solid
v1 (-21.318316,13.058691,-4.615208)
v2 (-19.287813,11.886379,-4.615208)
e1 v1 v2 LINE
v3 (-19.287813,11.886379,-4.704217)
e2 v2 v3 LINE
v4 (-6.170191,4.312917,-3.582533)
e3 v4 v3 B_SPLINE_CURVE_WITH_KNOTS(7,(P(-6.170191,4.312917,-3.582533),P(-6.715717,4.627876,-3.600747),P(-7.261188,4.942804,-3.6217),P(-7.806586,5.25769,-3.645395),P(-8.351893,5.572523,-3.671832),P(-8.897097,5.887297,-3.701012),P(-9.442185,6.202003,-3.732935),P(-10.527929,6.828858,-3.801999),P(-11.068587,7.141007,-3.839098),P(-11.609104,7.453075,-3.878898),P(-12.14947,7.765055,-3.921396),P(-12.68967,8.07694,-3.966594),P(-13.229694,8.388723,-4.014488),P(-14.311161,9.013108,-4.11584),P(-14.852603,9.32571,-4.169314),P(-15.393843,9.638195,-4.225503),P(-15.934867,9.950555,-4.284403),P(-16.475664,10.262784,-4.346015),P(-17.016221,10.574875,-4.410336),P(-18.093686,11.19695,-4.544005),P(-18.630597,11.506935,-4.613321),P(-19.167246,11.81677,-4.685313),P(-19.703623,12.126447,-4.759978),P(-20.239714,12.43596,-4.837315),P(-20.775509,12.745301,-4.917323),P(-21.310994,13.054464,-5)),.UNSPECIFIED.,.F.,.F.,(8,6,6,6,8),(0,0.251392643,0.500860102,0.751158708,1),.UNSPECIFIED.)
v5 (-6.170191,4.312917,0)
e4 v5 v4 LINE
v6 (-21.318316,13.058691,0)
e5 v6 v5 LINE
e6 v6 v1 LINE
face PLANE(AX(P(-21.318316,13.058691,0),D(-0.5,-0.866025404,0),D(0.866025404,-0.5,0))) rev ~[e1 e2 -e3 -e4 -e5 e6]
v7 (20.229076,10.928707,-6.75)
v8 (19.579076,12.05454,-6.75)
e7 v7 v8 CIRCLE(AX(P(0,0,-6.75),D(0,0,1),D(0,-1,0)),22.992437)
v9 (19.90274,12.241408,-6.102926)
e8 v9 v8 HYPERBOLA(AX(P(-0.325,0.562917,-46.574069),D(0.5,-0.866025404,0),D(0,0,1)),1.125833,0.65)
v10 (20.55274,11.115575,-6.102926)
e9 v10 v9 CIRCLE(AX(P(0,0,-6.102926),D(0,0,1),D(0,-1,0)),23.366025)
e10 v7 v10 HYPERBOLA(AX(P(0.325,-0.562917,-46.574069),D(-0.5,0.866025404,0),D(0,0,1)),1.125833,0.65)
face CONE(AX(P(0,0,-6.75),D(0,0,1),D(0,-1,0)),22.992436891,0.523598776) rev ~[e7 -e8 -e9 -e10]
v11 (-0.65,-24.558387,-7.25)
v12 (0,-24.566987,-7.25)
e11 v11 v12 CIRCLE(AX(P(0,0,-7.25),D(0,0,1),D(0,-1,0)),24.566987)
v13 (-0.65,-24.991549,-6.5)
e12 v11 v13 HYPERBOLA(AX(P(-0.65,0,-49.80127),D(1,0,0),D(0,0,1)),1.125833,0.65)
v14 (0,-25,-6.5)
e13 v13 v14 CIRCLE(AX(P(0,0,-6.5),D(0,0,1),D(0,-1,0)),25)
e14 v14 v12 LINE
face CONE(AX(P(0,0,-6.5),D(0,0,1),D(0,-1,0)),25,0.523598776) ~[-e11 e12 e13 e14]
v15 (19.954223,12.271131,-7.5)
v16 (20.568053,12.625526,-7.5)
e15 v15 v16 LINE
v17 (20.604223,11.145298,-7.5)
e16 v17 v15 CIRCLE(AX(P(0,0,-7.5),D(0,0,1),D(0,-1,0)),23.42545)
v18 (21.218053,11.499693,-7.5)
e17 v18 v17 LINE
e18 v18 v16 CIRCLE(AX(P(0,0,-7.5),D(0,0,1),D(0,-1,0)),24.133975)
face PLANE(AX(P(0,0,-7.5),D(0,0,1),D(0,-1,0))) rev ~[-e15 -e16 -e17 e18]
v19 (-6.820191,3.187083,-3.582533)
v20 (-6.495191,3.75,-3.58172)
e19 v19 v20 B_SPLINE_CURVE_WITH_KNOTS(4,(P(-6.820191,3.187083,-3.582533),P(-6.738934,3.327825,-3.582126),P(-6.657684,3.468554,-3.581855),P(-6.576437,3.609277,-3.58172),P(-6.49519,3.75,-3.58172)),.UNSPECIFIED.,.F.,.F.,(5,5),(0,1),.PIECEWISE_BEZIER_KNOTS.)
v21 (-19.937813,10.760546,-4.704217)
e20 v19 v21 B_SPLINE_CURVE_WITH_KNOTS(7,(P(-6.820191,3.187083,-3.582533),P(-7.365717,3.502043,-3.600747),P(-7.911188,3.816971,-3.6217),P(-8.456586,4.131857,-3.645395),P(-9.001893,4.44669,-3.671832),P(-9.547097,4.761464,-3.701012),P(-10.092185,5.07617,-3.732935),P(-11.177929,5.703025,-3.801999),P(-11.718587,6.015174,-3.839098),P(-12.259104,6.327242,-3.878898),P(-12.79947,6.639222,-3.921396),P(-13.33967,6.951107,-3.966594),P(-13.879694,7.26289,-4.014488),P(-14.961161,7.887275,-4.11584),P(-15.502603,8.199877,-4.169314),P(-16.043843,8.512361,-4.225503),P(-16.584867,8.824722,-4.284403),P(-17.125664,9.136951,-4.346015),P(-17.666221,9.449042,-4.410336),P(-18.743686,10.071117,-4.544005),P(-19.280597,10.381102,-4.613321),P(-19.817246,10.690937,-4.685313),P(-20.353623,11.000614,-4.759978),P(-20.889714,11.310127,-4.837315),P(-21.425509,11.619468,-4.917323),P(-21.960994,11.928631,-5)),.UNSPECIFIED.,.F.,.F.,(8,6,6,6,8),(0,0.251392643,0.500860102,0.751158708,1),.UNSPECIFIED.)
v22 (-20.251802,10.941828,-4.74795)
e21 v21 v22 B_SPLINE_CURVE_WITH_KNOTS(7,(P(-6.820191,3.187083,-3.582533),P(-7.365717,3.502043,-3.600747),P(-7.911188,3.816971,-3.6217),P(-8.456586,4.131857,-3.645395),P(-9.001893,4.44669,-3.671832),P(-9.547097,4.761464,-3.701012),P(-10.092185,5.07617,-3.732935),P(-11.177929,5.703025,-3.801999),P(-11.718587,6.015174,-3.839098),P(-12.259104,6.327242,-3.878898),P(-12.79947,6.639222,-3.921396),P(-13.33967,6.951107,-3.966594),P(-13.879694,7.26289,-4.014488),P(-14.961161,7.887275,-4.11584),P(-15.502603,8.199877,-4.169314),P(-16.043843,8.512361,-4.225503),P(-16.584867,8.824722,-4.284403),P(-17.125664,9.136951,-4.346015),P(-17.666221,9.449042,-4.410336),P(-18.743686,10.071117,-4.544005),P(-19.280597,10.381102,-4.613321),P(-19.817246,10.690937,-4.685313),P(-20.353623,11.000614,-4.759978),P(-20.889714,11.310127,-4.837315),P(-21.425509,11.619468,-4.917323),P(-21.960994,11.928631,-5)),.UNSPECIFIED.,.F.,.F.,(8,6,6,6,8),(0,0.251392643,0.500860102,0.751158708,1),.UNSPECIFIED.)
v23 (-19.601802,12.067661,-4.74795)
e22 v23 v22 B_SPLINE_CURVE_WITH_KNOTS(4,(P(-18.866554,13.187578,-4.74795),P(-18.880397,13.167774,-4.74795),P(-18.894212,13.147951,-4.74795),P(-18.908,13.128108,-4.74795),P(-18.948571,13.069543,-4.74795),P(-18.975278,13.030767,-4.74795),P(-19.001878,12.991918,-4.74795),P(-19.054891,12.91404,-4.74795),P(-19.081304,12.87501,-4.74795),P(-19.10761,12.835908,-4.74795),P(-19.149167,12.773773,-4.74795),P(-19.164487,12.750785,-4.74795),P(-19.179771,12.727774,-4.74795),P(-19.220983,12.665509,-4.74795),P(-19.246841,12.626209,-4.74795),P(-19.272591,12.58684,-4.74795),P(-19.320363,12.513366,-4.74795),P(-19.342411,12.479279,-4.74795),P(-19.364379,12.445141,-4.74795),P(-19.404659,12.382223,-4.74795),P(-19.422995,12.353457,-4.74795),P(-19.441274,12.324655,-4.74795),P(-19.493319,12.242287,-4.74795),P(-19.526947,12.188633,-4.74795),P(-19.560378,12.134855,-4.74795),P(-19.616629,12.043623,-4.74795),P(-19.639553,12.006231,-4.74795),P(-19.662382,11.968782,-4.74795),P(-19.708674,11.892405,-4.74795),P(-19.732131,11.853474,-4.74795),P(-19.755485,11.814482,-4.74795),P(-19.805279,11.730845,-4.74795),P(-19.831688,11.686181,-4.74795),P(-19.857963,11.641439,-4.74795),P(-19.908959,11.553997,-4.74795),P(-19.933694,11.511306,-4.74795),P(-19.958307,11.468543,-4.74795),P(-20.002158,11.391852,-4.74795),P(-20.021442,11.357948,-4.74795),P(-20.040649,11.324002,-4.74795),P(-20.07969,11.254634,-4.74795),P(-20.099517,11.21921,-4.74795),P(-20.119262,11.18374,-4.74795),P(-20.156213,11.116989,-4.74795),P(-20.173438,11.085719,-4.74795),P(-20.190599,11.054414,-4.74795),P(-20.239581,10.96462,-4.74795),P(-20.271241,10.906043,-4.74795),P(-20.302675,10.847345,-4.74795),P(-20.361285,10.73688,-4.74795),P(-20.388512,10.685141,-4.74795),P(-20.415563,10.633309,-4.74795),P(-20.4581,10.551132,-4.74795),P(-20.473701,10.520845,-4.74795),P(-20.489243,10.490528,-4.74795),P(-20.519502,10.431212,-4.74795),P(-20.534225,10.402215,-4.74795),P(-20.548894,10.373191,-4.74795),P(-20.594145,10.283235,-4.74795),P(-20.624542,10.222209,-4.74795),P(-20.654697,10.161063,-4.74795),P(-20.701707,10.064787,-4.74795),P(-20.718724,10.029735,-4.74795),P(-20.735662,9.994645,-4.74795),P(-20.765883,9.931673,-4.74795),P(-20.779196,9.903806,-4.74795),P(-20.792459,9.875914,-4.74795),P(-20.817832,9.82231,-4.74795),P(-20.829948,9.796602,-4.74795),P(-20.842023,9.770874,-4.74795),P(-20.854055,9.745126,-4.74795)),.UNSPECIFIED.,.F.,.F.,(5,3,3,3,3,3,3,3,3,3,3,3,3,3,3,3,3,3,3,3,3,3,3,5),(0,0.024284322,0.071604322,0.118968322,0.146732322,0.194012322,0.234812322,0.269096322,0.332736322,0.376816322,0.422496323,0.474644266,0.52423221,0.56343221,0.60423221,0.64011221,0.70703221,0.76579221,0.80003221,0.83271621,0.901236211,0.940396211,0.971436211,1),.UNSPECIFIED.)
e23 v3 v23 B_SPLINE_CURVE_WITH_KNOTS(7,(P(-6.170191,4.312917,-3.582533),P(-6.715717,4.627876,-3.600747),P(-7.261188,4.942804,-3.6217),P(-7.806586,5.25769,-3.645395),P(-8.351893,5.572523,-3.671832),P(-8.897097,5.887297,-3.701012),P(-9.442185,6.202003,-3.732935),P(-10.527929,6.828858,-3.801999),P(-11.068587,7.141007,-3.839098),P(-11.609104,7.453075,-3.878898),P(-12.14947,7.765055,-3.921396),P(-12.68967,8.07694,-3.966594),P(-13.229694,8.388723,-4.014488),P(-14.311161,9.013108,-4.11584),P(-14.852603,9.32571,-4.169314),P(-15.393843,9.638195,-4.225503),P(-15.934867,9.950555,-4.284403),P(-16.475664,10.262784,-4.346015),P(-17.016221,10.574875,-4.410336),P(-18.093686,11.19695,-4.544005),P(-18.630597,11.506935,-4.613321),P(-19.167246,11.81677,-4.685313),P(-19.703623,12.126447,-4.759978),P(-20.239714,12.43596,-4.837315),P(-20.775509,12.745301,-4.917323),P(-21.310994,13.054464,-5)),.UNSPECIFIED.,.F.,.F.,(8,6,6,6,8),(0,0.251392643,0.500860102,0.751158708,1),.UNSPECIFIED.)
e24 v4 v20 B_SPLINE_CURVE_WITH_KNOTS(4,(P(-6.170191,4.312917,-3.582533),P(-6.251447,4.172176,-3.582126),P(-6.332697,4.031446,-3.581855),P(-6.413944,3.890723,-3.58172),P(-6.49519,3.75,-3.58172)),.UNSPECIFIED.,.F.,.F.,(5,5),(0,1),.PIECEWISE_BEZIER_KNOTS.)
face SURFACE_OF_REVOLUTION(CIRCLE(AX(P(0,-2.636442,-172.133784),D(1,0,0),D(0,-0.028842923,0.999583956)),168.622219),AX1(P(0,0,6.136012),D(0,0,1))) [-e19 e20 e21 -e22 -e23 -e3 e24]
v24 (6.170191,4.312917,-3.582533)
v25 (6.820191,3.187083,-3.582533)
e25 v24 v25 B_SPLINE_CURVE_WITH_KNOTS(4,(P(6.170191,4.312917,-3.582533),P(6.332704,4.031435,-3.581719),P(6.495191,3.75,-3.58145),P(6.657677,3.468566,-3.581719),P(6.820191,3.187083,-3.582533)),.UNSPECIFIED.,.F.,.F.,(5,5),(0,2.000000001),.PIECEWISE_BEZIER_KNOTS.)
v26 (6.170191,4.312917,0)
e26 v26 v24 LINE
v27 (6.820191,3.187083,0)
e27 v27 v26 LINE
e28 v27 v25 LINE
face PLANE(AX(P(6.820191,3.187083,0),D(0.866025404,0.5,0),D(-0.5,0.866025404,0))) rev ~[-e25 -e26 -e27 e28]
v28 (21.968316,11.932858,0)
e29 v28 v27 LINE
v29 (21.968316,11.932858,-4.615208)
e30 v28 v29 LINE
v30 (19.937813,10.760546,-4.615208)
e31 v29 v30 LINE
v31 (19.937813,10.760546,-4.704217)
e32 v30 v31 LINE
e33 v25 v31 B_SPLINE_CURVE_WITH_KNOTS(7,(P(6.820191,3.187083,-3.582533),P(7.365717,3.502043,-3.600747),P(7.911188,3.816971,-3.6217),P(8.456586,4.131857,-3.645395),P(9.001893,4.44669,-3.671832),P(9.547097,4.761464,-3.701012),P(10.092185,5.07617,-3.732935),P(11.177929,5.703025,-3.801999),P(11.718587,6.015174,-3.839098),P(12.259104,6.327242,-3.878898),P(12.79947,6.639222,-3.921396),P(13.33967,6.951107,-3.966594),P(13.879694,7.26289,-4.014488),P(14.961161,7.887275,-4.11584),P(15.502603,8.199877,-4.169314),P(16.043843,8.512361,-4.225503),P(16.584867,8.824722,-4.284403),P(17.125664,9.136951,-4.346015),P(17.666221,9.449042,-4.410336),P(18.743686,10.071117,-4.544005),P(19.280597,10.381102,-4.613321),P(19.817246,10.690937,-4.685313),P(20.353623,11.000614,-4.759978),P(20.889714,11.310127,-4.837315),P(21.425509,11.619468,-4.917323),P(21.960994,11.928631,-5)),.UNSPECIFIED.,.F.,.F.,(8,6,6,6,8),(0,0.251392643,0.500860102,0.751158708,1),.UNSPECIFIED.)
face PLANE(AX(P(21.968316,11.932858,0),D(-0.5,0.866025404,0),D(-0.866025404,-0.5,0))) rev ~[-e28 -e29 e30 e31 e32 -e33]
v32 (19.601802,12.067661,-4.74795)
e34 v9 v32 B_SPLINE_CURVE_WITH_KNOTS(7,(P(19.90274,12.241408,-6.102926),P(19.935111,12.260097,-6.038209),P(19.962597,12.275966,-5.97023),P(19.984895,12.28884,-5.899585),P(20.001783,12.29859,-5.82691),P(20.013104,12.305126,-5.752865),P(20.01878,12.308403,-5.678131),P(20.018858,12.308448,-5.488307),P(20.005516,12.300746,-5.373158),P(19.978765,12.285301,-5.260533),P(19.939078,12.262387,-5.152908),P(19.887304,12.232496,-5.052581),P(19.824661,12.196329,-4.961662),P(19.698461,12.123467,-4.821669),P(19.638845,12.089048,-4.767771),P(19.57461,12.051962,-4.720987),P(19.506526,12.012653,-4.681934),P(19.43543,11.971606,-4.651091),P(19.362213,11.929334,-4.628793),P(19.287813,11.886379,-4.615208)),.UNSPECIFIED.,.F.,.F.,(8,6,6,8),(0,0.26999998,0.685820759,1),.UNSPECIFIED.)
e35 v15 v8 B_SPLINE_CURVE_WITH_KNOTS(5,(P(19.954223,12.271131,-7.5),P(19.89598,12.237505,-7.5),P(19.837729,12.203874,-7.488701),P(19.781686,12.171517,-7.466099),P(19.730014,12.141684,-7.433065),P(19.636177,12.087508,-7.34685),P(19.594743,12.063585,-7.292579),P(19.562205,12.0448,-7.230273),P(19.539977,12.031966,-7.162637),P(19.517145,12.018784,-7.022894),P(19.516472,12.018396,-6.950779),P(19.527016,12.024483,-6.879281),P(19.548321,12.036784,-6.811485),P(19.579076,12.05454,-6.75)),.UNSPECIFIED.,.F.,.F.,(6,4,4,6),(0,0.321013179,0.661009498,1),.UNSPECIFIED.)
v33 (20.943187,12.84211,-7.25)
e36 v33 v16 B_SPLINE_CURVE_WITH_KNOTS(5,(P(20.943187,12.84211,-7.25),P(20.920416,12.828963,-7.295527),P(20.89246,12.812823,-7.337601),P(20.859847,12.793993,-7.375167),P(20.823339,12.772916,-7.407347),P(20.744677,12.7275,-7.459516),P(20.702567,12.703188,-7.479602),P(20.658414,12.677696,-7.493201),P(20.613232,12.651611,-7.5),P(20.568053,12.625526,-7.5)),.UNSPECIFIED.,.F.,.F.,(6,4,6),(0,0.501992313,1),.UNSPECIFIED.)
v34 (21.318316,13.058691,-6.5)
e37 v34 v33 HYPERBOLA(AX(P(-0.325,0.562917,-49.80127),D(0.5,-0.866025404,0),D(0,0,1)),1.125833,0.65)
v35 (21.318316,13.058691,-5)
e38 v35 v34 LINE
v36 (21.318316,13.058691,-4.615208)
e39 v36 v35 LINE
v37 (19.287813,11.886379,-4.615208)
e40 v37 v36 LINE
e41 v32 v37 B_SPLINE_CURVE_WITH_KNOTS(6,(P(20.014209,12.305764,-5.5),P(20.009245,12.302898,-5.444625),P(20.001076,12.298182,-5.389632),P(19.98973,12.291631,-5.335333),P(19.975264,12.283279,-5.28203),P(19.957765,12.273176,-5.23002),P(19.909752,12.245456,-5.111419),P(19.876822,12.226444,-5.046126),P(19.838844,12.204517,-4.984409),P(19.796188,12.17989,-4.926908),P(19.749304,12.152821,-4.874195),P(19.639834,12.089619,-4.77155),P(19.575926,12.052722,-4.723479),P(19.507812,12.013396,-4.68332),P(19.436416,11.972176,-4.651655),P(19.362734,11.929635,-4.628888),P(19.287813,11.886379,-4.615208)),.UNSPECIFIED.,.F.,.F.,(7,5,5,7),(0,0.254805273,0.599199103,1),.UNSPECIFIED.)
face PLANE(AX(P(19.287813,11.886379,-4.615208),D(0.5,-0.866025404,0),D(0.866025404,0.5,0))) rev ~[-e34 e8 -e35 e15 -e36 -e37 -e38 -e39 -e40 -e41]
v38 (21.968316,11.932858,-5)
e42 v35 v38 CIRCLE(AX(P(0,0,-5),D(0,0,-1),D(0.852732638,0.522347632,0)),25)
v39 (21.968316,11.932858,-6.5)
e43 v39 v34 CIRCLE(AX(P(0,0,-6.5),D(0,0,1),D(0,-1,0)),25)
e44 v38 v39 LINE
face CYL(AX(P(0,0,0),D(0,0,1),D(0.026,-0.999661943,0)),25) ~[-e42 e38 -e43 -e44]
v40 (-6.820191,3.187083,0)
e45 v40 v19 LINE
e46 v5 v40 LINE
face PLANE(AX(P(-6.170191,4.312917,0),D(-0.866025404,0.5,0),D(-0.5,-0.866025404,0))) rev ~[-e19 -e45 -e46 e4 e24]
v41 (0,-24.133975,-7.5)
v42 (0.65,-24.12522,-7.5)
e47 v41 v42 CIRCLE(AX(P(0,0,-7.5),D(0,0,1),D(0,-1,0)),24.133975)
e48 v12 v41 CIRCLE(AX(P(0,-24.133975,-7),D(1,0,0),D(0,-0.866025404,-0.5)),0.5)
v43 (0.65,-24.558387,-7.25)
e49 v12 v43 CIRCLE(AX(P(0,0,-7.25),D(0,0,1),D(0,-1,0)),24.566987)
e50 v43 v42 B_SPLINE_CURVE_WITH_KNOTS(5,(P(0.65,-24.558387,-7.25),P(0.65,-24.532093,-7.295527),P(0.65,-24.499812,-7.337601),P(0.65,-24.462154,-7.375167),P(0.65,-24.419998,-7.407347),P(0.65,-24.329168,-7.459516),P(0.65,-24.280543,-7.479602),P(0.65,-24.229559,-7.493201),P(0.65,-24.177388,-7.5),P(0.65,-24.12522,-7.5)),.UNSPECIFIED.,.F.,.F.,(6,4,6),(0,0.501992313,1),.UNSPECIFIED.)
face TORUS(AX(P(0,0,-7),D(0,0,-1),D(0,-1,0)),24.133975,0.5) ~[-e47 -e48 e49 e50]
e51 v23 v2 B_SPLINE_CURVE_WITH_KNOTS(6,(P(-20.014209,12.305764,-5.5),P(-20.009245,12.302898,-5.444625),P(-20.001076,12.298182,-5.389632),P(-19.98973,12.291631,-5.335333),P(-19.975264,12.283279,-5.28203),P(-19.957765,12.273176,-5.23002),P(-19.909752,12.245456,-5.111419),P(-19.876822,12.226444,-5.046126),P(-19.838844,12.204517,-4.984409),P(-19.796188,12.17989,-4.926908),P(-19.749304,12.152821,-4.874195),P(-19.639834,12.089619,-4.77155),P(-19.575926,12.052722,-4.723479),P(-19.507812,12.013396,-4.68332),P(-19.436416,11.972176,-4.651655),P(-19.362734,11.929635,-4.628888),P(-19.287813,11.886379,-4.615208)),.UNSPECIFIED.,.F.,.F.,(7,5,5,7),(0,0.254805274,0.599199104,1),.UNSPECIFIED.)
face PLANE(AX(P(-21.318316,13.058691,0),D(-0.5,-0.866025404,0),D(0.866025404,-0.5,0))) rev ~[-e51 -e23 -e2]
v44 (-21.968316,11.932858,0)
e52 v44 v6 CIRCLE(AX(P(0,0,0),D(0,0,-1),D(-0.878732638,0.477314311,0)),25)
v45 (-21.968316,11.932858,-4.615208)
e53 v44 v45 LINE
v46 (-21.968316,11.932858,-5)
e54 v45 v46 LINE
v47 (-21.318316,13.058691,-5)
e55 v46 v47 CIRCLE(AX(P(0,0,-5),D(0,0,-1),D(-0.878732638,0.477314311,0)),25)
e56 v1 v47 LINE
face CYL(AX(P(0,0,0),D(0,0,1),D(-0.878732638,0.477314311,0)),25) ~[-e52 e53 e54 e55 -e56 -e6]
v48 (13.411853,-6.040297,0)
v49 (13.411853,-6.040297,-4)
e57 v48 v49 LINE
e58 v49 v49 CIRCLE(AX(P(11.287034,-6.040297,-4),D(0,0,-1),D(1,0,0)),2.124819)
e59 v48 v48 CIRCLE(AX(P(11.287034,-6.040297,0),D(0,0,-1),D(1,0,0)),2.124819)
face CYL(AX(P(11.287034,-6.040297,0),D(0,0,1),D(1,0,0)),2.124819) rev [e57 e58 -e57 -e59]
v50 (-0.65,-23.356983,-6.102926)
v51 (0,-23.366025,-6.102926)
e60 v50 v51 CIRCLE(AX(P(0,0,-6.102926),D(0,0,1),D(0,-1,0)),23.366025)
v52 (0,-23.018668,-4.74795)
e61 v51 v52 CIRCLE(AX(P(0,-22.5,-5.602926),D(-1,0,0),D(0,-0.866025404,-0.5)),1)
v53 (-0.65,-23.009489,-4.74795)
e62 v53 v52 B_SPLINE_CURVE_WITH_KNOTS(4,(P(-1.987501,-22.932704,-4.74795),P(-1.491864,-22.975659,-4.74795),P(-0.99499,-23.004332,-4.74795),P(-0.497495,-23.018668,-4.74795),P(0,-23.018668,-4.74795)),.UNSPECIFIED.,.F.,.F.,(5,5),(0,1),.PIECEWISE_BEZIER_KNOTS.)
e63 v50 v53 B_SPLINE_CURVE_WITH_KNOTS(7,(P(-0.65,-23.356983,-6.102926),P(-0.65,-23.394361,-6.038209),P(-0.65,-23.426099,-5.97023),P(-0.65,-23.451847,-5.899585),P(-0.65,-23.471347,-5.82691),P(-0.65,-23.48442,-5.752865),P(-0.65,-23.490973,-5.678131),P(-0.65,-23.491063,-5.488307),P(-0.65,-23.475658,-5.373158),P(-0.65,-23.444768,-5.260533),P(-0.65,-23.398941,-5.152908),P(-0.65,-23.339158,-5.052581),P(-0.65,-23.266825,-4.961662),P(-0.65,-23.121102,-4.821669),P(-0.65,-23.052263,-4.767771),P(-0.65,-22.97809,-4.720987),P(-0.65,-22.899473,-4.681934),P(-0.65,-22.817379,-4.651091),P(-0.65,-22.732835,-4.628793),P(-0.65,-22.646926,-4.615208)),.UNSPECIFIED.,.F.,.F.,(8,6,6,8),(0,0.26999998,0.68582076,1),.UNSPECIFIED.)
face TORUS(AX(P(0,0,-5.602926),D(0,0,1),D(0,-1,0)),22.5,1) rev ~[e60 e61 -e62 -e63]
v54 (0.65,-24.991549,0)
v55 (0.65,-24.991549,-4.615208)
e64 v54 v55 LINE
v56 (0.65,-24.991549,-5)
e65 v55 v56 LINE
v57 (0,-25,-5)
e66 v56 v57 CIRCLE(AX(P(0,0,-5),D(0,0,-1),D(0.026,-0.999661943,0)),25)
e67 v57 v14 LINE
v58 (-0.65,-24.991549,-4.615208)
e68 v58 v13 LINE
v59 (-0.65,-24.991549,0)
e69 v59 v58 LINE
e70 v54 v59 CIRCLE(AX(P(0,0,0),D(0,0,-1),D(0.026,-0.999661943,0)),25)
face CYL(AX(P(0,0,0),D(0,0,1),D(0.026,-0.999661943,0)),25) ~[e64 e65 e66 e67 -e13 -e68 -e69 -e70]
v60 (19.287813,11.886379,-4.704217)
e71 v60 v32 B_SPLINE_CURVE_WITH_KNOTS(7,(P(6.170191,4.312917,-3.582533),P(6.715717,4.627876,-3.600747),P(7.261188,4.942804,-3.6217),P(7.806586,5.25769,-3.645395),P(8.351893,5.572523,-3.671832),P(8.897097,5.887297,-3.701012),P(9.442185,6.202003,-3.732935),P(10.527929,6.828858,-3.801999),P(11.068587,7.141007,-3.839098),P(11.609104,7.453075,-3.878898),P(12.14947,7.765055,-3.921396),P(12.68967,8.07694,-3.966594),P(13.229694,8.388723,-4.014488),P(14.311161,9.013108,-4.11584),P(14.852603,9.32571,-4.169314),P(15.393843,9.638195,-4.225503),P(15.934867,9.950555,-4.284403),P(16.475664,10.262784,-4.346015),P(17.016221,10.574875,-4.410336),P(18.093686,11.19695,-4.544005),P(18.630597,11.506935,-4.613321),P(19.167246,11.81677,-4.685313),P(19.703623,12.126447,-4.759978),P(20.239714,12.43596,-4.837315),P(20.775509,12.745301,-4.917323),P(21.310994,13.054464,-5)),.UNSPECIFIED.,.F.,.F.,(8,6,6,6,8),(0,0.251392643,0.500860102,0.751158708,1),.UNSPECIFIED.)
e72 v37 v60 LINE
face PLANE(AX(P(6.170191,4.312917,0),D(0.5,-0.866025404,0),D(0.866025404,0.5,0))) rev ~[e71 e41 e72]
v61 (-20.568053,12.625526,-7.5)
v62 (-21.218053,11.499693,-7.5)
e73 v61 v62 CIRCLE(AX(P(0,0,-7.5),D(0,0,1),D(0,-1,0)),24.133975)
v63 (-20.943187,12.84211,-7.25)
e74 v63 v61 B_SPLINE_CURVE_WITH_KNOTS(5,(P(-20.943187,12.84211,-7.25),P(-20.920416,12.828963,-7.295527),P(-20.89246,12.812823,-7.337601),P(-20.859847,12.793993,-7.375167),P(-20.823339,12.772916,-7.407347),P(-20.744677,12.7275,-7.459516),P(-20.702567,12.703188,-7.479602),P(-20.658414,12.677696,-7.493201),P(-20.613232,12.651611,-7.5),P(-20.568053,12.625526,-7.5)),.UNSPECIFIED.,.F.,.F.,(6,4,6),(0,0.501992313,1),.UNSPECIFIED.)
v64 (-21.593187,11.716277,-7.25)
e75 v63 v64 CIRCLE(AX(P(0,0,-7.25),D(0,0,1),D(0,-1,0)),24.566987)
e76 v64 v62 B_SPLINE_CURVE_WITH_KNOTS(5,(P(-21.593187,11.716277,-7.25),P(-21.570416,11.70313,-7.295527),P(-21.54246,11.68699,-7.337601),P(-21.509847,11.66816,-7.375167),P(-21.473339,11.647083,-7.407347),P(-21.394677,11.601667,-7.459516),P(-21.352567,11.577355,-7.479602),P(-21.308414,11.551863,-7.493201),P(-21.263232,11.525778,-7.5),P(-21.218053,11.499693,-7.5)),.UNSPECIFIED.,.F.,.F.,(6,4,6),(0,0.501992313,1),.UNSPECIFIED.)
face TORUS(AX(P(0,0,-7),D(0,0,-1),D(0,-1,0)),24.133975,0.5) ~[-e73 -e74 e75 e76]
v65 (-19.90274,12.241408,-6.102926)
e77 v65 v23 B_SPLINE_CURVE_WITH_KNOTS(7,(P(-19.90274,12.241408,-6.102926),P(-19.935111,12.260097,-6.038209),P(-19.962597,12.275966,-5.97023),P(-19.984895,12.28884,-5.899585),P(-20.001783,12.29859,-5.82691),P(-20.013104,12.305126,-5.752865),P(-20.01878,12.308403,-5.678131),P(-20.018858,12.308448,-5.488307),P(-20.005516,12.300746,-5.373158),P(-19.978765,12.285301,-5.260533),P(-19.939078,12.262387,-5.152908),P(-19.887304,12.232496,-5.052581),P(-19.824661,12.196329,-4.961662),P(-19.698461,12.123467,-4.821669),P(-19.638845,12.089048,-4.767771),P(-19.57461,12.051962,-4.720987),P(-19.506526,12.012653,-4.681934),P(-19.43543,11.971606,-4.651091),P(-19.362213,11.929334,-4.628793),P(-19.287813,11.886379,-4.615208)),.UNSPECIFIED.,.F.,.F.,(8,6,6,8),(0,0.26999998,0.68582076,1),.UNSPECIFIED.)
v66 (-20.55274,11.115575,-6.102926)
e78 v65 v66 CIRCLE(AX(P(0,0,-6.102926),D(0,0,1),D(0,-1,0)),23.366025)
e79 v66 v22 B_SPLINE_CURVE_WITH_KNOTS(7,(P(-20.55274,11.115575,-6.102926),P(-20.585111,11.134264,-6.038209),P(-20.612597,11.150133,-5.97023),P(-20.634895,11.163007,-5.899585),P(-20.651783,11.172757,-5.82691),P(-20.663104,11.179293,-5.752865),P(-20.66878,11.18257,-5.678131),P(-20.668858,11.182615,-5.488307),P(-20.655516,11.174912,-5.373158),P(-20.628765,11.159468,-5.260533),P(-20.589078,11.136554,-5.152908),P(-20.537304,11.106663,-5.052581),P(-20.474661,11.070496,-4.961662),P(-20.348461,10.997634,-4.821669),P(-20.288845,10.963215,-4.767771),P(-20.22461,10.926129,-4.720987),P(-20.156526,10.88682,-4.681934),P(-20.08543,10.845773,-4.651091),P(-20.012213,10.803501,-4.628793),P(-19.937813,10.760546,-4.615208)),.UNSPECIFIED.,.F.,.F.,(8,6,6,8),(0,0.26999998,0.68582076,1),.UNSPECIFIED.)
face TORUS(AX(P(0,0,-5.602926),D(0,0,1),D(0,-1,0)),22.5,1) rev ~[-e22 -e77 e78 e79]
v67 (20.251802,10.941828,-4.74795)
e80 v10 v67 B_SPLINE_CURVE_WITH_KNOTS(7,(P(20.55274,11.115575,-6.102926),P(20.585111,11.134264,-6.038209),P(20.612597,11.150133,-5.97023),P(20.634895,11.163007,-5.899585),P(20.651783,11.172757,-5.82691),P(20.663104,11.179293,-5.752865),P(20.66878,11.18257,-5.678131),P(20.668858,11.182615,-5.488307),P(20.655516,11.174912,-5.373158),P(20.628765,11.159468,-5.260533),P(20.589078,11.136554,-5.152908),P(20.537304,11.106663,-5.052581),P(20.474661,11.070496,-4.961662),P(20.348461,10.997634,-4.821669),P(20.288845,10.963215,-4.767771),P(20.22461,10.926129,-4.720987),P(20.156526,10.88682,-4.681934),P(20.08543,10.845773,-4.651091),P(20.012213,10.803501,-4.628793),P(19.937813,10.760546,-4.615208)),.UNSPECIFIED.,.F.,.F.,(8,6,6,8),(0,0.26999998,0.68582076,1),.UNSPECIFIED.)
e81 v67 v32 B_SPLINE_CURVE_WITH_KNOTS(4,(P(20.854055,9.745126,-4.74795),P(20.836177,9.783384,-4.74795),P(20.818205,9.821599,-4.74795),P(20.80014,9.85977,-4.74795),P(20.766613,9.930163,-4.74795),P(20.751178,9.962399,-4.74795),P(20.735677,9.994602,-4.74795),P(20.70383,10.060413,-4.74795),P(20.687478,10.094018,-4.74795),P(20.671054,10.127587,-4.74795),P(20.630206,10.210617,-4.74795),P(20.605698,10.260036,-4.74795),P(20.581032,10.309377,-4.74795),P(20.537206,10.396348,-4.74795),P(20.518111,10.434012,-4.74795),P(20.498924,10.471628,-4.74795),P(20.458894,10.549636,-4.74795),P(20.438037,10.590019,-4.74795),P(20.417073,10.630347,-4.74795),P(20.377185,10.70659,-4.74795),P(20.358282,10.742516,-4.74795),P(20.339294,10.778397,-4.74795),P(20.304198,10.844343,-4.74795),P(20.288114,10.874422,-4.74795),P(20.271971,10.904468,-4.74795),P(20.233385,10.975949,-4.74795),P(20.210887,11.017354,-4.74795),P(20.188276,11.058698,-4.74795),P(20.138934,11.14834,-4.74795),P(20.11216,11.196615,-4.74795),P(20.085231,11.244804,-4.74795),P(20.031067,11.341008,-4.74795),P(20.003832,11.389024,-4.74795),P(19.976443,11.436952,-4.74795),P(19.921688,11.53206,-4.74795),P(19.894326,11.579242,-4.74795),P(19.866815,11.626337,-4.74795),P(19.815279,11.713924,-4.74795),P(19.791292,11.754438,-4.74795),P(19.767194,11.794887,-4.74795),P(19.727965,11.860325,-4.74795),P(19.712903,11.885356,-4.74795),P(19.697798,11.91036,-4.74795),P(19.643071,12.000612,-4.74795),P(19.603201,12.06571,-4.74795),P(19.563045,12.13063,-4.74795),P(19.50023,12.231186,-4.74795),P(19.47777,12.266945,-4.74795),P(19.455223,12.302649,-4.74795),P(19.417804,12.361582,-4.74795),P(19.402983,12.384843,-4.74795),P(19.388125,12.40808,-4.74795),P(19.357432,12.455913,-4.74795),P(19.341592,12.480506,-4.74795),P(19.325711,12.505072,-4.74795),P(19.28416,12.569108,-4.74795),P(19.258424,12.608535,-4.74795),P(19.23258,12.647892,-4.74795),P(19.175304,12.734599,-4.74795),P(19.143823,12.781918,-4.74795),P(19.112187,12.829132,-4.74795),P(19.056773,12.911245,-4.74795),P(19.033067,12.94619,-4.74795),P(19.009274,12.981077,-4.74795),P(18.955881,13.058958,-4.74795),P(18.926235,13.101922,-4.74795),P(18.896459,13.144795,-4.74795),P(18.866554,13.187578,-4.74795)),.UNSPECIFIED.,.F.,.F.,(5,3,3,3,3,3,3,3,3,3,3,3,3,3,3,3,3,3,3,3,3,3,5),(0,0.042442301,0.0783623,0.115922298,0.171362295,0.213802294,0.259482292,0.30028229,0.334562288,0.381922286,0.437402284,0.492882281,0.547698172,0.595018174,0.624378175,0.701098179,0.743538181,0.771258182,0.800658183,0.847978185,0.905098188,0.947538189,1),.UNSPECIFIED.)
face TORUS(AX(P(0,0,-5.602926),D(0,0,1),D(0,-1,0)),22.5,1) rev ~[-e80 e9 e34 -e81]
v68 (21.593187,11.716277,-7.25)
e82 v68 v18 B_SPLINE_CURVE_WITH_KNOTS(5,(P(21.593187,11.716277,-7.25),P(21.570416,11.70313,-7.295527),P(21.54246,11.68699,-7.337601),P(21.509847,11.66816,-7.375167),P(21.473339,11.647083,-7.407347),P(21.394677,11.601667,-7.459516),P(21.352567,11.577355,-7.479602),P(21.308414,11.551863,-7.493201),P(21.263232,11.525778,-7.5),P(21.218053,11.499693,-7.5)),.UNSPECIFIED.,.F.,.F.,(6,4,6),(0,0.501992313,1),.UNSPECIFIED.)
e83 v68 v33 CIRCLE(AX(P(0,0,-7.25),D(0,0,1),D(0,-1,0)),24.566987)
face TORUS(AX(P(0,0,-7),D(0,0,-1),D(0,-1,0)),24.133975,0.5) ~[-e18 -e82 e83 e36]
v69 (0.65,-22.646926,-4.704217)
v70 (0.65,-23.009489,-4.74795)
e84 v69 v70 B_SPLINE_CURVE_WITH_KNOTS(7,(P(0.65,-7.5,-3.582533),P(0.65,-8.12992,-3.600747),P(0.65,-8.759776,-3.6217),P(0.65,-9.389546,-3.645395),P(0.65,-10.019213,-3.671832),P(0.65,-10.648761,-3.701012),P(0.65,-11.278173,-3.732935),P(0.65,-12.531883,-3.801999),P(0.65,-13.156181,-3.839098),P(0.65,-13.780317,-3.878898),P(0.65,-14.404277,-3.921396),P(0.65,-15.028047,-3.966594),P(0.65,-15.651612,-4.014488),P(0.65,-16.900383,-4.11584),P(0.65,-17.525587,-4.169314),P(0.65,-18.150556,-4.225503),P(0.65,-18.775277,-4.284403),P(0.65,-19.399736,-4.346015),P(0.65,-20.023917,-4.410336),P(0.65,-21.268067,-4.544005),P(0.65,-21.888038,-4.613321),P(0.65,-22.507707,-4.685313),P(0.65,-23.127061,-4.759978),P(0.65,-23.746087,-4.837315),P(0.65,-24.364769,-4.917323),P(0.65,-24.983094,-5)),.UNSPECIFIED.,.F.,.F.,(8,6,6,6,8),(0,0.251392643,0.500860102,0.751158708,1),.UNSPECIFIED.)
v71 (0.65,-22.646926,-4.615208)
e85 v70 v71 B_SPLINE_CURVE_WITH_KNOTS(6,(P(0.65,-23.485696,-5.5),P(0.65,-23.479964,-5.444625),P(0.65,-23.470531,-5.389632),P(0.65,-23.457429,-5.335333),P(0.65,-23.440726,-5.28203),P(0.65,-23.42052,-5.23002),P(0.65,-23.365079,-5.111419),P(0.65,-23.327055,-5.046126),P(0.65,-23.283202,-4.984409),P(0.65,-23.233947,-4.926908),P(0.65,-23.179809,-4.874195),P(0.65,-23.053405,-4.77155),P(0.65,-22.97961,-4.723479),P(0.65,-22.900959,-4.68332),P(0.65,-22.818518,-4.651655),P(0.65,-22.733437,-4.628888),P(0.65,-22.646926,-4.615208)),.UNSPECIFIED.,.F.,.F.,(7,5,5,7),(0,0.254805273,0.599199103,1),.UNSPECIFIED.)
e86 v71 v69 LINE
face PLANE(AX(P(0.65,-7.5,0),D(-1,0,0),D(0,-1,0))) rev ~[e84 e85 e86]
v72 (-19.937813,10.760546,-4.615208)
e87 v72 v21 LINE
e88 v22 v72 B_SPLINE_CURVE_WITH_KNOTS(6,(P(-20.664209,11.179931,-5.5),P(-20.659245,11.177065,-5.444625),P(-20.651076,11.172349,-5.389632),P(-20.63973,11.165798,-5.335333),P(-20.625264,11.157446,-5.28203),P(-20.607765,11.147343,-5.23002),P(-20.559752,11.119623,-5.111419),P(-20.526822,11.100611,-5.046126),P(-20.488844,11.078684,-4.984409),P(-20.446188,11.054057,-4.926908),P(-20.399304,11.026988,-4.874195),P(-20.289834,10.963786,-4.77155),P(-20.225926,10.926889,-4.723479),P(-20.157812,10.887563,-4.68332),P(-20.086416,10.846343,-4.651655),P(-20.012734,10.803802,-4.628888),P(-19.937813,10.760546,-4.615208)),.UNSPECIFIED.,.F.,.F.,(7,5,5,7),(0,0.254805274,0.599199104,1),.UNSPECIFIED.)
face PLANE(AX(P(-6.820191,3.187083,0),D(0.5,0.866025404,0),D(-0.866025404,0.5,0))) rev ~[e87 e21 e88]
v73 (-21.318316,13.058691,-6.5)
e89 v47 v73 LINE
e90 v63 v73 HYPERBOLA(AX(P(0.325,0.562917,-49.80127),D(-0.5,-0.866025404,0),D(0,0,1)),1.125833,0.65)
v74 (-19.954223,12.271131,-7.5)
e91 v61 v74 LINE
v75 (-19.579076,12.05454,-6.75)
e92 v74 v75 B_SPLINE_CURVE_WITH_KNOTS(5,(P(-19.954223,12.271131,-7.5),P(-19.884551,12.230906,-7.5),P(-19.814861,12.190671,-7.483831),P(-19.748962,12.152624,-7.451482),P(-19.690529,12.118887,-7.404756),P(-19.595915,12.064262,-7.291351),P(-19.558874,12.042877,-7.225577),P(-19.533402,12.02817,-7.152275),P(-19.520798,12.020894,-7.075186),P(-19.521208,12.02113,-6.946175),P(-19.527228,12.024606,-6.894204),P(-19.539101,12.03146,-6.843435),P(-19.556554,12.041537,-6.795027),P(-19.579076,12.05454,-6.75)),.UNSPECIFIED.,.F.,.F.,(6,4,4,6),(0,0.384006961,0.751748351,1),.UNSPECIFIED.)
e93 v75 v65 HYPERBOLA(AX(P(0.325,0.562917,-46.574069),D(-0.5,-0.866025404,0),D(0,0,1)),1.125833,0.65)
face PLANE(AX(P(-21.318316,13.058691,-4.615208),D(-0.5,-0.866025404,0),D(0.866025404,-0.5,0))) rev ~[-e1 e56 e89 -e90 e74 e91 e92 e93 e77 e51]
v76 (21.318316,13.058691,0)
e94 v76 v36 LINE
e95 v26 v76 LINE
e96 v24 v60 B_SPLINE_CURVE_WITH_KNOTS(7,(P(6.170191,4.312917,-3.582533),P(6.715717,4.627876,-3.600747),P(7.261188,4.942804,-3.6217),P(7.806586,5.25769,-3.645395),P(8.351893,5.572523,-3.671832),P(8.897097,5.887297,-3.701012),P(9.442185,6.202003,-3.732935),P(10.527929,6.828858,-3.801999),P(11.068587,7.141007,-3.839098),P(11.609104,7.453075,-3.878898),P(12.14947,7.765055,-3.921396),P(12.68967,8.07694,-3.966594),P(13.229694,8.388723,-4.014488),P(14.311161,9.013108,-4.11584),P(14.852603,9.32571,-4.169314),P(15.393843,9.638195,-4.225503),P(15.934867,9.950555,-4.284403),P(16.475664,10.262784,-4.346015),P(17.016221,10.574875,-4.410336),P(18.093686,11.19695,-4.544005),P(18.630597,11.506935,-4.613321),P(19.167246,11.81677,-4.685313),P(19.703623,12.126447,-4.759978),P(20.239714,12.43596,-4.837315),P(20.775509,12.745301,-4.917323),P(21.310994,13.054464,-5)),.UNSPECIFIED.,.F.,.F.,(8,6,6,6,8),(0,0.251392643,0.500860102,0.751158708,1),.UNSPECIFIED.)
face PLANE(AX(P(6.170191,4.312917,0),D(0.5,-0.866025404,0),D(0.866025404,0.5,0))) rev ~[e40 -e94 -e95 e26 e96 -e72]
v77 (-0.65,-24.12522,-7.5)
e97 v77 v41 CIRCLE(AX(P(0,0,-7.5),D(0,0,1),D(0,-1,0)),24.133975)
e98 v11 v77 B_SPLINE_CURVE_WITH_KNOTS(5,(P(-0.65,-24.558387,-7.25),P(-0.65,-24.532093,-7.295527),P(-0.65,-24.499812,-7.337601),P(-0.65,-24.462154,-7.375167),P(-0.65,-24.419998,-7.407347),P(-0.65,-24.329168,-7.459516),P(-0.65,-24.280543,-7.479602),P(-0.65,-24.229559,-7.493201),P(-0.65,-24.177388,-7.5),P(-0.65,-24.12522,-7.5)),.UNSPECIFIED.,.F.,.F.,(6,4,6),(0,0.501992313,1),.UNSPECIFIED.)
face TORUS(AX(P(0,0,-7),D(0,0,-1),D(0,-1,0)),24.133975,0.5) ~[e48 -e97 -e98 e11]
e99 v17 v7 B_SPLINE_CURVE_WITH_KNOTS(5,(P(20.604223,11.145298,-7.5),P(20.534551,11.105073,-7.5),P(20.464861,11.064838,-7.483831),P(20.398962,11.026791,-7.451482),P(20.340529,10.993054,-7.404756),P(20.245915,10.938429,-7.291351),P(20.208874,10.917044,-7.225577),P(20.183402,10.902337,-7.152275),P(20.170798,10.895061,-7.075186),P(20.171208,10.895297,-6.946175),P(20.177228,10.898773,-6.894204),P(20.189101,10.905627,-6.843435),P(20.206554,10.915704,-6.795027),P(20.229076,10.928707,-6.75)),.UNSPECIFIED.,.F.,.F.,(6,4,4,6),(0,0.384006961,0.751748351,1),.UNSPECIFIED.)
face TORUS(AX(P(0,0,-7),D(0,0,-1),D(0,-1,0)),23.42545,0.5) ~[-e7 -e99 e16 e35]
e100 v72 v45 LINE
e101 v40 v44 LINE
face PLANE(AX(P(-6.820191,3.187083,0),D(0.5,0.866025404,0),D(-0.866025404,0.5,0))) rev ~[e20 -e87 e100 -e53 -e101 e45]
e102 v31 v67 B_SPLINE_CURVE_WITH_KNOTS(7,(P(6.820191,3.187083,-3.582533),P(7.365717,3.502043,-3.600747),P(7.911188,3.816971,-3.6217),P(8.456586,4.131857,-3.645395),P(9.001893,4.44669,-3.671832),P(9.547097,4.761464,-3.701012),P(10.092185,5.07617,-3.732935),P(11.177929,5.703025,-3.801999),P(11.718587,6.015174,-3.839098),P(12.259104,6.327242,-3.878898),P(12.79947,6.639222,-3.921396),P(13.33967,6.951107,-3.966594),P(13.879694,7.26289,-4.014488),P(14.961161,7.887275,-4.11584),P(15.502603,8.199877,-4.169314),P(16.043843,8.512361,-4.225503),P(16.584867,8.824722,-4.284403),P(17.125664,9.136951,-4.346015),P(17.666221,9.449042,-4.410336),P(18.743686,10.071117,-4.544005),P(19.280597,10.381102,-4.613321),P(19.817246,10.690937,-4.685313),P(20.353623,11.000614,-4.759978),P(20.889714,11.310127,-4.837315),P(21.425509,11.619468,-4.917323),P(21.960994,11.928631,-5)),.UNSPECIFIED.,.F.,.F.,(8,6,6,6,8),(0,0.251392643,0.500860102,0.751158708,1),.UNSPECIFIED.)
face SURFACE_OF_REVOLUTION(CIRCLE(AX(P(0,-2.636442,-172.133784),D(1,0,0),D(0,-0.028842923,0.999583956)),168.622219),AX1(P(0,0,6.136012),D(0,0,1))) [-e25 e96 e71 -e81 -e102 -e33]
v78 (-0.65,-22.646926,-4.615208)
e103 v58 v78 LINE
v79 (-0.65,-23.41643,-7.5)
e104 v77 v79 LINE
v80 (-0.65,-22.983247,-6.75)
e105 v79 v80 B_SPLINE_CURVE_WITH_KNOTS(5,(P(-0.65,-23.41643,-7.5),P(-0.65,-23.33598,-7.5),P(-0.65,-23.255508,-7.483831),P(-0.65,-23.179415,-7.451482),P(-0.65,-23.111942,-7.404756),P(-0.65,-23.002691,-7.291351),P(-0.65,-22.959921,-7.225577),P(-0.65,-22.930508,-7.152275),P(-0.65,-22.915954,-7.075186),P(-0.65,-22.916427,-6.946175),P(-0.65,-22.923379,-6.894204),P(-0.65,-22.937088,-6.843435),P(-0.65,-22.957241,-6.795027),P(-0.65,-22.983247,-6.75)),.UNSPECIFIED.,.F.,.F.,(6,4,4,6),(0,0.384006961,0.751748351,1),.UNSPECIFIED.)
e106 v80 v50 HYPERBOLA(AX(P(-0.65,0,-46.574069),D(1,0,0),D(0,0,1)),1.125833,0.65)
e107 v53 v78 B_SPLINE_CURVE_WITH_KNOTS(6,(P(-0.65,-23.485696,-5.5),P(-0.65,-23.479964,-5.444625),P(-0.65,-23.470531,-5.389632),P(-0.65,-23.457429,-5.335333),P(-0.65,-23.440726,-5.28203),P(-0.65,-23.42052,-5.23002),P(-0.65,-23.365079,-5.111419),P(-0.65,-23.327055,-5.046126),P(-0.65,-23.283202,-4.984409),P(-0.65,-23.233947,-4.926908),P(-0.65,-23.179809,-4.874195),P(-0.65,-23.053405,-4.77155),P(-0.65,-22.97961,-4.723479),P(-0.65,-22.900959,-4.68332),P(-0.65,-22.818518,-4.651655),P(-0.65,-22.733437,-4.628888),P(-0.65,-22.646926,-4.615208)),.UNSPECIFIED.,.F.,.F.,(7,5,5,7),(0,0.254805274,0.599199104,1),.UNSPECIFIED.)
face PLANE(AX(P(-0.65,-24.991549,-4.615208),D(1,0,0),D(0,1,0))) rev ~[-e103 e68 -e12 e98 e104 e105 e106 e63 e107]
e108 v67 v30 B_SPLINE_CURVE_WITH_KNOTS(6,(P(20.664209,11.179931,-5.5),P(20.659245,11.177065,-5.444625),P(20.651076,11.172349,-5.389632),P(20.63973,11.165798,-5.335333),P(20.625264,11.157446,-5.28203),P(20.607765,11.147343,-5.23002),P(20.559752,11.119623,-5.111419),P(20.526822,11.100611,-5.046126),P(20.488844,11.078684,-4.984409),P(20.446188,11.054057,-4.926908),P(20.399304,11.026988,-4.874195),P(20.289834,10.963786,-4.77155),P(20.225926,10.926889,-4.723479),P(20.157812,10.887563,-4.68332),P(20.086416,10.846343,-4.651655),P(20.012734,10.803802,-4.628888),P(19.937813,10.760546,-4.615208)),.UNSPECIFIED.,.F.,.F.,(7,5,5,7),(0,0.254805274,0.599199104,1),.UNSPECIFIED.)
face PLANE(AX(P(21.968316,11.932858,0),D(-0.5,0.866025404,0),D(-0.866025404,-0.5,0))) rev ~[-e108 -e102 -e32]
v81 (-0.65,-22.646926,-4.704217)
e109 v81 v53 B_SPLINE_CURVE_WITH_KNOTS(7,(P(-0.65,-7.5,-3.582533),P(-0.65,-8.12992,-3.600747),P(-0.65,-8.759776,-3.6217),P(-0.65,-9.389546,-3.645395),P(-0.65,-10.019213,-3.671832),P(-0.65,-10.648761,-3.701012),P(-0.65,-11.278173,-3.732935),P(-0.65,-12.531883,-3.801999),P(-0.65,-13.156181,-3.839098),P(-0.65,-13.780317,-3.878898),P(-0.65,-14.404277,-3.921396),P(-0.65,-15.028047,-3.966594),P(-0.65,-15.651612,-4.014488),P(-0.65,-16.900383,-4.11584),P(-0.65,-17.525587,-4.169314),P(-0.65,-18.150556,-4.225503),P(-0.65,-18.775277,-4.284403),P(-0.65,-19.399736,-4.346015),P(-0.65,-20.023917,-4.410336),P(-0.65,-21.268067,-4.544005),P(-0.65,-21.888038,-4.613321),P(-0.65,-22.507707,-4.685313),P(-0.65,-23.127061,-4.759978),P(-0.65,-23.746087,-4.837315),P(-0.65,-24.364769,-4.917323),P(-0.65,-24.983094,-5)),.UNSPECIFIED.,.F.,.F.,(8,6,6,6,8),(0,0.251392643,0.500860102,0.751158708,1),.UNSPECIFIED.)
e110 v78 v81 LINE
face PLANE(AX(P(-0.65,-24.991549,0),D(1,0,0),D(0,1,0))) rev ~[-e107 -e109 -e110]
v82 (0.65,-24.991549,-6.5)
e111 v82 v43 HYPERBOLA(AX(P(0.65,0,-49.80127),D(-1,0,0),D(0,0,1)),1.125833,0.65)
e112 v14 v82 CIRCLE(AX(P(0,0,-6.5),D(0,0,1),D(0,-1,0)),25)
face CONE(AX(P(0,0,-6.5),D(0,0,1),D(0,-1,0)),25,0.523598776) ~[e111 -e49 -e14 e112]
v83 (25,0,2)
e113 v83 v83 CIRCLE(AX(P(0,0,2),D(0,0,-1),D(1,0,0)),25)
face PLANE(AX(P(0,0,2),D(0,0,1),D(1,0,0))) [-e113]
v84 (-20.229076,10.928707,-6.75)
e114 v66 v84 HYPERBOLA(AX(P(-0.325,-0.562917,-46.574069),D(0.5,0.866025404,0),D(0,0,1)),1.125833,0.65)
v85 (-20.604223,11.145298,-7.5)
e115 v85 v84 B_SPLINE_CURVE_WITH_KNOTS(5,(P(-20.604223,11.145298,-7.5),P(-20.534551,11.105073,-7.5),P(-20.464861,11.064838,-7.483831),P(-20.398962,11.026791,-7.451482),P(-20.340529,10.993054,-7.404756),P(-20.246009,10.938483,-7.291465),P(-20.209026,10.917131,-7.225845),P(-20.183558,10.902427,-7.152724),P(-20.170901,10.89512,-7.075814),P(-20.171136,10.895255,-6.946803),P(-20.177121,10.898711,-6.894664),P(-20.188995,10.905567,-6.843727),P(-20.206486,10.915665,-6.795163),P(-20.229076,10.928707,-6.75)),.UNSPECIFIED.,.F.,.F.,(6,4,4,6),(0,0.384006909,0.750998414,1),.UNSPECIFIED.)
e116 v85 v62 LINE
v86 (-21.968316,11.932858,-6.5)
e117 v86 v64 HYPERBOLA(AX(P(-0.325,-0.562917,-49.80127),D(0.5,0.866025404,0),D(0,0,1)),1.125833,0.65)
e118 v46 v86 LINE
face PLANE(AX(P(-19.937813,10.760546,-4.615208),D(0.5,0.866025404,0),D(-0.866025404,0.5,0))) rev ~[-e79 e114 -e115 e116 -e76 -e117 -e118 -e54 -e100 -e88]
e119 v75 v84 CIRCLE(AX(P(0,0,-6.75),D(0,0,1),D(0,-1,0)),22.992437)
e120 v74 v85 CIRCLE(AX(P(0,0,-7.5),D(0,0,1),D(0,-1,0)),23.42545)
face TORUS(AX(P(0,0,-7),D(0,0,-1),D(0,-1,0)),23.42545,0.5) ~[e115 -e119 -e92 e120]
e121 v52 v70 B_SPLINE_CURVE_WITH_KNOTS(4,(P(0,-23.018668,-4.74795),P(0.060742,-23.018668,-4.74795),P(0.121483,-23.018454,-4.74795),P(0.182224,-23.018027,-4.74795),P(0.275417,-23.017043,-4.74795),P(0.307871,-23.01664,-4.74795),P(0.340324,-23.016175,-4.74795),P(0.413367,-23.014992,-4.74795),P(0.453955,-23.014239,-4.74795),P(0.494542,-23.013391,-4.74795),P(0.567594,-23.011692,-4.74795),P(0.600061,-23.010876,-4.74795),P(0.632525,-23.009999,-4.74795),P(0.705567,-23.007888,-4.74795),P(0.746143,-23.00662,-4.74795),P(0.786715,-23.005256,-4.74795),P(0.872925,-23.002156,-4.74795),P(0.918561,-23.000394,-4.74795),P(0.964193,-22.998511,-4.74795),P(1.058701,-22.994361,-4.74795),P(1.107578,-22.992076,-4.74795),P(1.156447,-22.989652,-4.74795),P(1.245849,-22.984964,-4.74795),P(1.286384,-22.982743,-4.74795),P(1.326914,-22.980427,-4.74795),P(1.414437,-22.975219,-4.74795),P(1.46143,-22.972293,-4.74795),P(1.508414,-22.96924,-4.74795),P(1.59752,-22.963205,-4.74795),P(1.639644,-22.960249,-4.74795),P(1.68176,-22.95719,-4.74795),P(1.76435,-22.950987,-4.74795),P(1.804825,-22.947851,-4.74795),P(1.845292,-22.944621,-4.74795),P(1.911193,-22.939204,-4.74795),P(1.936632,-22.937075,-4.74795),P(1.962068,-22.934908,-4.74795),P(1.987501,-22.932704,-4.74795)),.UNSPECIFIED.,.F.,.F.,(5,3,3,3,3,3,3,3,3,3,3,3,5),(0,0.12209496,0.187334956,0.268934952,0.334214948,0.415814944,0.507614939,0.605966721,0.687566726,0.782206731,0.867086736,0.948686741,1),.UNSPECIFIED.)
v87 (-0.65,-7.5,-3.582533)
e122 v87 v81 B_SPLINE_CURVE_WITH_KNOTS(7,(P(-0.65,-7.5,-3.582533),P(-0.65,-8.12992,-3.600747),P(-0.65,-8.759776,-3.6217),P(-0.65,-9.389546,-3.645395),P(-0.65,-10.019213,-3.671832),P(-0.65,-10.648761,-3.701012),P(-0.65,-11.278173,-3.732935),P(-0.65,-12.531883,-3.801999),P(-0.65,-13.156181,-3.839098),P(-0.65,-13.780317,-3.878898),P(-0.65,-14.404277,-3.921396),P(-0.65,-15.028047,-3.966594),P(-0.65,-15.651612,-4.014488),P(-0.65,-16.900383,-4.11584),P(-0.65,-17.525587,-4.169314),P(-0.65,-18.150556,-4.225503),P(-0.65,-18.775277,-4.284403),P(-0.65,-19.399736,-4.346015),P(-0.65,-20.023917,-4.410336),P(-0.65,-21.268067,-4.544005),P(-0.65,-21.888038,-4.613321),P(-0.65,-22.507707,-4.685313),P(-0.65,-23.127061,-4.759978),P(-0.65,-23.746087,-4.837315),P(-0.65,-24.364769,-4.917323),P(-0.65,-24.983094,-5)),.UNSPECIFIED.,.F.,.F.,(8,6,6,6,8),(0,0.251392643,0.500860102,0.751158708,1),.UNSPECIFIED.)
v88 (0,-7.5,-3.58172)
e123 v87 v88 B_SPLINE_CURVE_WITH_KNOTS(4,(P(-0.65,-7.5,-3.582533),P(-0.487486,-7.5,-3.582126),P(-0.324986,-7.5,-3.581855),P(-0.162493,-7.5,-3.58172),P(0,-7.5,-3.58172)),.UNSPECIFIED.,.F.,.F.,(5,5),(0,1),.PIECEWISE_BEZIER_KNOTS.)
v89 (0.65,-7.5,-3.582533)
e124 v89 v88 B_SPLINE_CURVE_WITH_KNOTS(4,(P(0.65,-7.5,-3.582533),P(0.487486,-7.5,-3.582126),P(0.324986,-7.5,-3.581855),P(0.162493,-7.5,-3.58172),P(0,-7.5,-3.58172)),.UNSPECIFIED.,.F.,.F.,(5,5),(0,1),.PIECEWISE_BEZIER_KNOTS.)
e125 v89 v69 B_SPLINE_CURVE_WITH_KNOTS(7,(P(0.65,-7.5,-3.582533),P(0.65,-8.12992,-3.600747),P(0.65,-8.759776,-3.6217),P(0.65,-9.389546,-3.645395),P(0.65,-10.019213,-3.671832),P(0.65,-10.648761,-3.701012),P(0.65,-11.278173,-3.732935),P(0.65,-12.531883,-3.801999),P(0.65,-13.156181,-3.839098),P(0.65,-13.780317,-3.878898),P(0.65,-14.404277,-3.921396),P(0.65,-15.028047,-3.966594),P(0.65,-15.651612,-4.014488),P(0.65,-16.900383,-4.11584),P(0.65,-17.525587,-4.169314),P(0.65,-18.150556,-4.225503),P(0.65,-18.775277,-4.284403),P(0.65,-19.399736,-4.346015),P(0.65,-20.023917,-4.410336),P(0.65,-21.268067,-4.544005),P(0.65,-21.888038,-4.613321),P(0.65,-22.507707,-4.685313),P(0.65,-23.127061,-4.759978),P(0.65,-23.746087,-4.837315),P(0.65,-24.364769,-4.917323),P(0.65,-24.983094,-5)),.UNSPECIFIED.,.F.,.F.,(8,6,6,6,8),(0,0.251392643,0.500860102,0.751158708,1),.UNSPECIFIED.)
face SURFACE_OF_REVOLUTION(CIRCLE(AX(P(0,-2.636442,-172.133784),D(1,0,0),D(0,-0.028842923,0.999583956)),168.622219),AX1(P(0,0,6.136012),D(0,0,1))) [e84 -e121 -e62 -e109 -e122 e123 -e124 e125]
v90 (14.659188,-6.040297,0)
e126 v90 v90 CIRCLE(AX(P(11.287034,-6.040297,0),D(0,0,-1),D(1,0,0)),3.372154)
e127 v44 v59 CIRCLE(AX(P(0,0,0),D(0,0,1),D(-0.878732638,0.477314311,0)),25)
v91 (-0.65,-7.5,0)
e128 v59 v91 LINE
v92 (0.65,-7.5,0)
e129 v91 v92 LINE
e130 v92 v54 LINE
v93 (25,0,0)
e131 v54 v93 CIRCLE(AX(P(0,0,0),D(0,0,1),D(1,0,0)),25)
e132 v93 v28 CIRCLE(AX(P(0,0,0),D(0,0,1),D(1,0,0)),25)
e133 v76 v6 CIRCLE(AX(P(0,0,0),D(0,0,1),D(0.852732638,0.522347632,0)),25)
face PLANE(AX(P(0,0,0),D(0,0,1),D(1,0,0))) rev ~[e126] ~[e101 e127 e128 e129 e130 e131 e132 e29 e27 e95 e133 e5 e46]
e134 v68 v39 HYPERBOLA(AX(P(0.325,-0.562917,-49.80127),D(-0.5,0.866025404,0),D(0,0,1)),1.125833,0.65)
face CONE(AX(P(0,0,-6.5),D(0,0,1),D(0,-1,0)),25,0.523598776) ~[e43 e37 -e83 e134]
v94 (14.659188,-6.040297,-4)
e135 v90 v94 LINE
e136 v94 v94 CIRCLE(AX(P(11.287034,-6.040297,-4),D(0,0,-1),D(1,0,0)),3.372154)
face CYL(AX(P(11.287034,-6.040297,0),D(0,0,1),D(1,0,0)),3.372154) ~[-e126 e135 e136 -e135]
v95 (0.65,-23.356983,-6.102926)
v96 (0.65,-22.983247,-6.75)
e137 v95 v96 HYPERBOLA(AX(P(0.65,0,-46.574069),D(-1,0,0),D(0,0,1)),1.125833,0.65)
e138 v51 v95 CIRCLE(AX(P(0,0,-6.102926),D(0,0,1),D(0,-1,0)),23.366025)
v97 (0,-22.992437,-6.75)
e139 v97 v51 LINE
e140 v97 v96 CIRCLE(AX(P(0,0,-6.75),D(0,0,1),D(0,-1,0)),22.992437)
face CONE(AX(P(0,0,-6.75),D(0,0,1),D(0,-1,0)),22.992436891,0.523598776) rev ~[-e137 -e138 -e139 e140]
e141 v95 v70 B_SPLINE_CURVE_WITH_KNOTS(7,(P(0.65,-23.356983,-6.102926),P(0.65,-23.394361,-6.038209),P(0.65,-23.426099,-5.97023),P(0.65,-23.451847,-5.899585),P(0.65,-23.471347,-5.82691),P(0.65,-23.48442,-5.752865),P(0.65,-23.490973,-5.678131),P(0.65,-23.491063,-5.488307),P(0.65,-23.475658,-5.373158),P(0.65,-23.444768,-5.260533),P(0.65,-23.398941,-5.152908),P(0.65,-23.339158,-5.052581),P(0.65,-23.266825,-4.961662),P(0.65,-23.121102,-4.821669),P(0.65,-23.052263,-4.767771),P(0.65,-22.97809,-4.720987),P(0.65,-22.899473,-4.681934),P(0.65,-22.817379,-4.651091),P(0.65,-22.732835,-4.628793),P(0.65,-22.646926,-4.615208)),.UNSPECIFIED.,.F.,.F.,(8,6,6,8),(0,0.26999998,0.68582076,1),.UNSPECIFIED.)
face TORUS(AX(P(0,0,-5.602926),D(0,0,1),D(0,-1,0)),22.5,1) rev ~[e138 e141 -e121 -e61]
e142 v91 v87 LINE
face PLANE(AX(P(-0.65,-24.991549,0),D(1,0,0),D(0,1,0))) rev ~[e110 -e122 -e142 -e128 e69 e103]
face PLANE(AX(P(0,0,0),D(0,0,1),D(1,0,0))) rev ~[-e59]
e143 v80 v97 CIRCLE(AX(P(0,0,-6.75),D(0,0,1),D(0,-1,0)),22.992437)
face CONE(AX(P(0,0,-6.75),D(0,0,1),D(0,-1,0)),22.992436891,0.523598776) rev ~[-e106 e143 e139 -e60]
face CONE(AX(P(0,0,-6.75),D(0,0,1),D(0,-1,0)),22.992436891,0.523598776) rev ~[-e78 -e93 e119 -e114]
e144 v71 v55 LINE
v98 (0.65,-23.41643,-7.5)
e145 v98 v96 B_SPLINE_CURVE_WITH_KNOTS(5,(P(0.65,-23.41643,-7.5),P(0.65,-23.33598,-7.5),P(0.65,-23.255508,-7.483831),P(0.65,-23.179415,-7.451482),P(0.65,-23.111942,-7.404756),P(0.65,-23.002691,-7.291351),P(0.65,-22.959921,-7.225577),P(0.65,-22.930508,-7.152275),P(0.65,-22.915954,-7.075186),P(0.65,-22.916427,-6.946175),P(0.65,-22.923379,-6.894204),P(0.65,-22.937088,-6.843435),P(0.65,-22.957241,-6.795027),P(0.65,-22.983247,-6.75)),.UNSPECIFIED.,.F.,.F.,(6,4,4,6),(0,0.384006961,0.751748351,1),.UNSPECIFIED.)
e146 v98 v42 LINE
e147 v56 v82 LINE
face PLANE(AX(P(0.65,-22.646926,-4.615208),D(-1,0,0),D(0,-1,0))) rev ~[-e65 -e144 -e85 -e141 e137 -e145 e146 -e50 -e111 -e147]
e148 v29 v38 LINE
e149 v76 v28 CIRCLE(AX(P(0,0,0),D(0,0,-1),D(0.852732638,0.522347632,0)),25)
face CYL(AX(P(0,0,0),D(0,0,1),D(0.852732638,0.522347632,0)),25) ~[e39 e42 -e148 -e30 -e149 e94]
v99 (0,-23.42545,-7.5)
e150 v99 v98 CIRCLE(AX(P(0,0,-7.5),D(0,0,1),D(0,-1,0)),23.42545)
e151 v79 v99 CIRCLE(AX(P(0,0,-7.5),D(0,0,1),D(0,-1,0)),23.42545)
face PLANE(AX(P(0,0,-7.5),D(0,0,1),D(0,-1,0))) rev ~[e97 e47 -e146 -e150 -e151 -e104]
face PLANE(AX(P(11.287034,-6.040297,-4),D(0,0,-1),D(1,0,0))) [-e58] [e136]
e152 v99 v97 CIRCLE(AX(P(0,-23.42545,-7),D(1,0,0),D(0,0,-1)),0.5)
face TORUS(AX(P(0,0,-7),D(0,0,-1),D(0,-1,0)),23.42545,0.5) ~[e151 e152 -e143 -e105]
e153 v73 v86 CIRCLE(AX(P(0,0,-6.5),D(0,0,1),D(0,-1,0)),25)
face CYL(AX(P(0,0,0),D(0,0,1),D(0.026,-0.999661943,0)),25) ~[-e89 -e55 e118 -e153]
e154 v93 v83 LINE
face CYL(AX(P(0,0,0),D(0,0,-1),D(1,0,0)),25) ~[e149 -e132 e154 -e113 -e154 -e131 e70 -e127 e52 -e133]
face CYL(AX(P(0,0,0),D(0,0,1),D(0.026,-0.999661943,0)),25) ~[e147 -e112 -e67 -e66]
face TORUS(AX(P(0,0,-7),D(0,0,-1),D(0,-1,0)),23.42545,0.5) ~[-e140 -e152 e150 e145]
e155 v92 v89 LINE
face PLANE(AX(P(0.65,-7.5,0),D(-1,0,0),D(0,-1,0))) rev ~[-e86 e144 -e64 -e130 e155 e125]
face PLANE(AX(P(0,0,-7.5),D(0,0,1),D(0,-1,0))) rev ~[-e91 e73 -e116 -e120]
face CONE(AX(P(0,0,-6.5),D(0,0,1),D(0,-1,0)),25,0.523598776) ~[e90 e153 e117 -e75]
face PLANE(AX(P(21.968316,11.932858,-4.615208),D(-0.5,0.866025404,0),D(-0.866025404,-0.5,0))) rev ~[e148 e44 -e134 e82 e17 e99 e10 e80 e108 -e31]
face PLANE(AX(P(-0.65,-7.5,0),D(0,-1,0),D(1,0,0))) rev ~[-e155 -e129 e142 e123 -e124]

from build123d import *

# Parameters (mm, degrees)
F0_R      = 25
F1_DEPTH  = 2
F3_DEPTH  = 5
F4_COUNT  = 3
F9_DEPTH  = 25
F10_R     = 3.3721537094
F10_R_2   = 2.124818642
F11_DEPTH = 4


with BuildPart() as f1:
    # F0 (on Top) → F1 (new body)
    with BuildSketch(Plane.XY):
        Circle(F0_R)
    extrude(amount=F1_DEPTH)

    # F2 (on face) → F3 (join)
    with BuildSketch(Plane(origin=(0, 0, 0), x_dir=(1, 0, 0), z_dir=(0, 0, -1))):
        with BuildLine():
            ThreePointArc((0.65, 24.9915485715), (0, 25), (-0.65, 24.9915485715))
            Line((-0.65, 24.9915485715), (-0.65, 7.5))
            Line((-0.65, 7.5), (0.65, 7.5))
            Line((0.65, 7.5), (0.65, 24.9915485715))
        make_face()
    extrude(amount=F3_DEPTH)

    # F4: F1 ×3 about axis
    f4_axis = Axis((0, 0, 0), (0, 0, -1))


with BuildPart() as f1_1:
    add(f1.part)
    for i in range(1, F4_COUNT):
        add(f1.part.rotate(f4_axis, i * 360 / F4_COUNT))

    # F5 (on Right) → F6 (revolve, cut)
    with BuildSketch(Plane.YZ):
        with BuildLine():
            Line((-24.9915485715, -5), (-7.5, -5))
            Line((-7.5, -5), (-7.5, -3.5817198365))
            ThreePointArc((-7.5, -3.5817198365), (-16.2642373071, -4.0631567864), (-24.9915485715, -5))
        make_face()
    revolve(axis=Axis((0, 0, 6.1360122636), (0, 0, 1)), mode=Mode.SUBTRACT)

    # F7 (on Right) → F8 (revolve)
    with BuildSketch(Plane.YZ):
        with BuildLine():
            Line((-22.6562518635, -4.6152084697), (-25, -4.6152084697))
            Line((-25, -4.6152084697), (-25, -6.5))
            Line((-25, -6.5), (-24.5669872981, -7.25))
            ThreePointArc((-24.5669872981, -7.25), (-24.3839745962, -7.4330127019), (-24.1339745962, -7.5))
            Line((-24.1339745962, -7.5), (-23.4254495926, -7.5))
            ThreePointArc((-23.4254495926, -7.5), (-22.9924368907, -7.25), (-22.9924368907, -6.75))
            Line((-22.9924368907, -6.75), (-23.3660254038, -6.1029257142))
            ThreePointArc((-23.3660254038, -6.1029257142), (-23.4025454851, -5.1723311865), (-22.6562518635, -4.6152084697))
        make_face()
    revolve(axis=Axis((0, 0, 4.5727211982), (0, 0, 1)))

    # F9 (cut): faces of the model
    f9_faces = [f1_1.faces().sort_by_distance(p)[0] for p in [
        (-20.0039367559, -11.5492782709, -4.6152084697),
        (20.0800258631, 12.8588493661, -4.6152084697),
        (1.0923046782, -23.8192371892, -4.6152084697),
    ]]
    extrude(f9_faces, amount=-F9_DEPTH, mode=Mode.SUBTRACT)

    # F10 (on face) → F11 (join)
    with BuildSketch(Plane(origin=(0, 0, 0), x_dir=(1, 0, 0), z_dir=(0, 0, -1))):
        with Locations((11.2870344892, 6.0402974486)):
            Circle(F10_R)
        with Locations((11.2870344892, 6.0402974486)):
            Circle(F10_R_2, mode=Mode.SUBTRACT)
    extrude(amount=F11_DEPTH)


solid = f1_1.part
